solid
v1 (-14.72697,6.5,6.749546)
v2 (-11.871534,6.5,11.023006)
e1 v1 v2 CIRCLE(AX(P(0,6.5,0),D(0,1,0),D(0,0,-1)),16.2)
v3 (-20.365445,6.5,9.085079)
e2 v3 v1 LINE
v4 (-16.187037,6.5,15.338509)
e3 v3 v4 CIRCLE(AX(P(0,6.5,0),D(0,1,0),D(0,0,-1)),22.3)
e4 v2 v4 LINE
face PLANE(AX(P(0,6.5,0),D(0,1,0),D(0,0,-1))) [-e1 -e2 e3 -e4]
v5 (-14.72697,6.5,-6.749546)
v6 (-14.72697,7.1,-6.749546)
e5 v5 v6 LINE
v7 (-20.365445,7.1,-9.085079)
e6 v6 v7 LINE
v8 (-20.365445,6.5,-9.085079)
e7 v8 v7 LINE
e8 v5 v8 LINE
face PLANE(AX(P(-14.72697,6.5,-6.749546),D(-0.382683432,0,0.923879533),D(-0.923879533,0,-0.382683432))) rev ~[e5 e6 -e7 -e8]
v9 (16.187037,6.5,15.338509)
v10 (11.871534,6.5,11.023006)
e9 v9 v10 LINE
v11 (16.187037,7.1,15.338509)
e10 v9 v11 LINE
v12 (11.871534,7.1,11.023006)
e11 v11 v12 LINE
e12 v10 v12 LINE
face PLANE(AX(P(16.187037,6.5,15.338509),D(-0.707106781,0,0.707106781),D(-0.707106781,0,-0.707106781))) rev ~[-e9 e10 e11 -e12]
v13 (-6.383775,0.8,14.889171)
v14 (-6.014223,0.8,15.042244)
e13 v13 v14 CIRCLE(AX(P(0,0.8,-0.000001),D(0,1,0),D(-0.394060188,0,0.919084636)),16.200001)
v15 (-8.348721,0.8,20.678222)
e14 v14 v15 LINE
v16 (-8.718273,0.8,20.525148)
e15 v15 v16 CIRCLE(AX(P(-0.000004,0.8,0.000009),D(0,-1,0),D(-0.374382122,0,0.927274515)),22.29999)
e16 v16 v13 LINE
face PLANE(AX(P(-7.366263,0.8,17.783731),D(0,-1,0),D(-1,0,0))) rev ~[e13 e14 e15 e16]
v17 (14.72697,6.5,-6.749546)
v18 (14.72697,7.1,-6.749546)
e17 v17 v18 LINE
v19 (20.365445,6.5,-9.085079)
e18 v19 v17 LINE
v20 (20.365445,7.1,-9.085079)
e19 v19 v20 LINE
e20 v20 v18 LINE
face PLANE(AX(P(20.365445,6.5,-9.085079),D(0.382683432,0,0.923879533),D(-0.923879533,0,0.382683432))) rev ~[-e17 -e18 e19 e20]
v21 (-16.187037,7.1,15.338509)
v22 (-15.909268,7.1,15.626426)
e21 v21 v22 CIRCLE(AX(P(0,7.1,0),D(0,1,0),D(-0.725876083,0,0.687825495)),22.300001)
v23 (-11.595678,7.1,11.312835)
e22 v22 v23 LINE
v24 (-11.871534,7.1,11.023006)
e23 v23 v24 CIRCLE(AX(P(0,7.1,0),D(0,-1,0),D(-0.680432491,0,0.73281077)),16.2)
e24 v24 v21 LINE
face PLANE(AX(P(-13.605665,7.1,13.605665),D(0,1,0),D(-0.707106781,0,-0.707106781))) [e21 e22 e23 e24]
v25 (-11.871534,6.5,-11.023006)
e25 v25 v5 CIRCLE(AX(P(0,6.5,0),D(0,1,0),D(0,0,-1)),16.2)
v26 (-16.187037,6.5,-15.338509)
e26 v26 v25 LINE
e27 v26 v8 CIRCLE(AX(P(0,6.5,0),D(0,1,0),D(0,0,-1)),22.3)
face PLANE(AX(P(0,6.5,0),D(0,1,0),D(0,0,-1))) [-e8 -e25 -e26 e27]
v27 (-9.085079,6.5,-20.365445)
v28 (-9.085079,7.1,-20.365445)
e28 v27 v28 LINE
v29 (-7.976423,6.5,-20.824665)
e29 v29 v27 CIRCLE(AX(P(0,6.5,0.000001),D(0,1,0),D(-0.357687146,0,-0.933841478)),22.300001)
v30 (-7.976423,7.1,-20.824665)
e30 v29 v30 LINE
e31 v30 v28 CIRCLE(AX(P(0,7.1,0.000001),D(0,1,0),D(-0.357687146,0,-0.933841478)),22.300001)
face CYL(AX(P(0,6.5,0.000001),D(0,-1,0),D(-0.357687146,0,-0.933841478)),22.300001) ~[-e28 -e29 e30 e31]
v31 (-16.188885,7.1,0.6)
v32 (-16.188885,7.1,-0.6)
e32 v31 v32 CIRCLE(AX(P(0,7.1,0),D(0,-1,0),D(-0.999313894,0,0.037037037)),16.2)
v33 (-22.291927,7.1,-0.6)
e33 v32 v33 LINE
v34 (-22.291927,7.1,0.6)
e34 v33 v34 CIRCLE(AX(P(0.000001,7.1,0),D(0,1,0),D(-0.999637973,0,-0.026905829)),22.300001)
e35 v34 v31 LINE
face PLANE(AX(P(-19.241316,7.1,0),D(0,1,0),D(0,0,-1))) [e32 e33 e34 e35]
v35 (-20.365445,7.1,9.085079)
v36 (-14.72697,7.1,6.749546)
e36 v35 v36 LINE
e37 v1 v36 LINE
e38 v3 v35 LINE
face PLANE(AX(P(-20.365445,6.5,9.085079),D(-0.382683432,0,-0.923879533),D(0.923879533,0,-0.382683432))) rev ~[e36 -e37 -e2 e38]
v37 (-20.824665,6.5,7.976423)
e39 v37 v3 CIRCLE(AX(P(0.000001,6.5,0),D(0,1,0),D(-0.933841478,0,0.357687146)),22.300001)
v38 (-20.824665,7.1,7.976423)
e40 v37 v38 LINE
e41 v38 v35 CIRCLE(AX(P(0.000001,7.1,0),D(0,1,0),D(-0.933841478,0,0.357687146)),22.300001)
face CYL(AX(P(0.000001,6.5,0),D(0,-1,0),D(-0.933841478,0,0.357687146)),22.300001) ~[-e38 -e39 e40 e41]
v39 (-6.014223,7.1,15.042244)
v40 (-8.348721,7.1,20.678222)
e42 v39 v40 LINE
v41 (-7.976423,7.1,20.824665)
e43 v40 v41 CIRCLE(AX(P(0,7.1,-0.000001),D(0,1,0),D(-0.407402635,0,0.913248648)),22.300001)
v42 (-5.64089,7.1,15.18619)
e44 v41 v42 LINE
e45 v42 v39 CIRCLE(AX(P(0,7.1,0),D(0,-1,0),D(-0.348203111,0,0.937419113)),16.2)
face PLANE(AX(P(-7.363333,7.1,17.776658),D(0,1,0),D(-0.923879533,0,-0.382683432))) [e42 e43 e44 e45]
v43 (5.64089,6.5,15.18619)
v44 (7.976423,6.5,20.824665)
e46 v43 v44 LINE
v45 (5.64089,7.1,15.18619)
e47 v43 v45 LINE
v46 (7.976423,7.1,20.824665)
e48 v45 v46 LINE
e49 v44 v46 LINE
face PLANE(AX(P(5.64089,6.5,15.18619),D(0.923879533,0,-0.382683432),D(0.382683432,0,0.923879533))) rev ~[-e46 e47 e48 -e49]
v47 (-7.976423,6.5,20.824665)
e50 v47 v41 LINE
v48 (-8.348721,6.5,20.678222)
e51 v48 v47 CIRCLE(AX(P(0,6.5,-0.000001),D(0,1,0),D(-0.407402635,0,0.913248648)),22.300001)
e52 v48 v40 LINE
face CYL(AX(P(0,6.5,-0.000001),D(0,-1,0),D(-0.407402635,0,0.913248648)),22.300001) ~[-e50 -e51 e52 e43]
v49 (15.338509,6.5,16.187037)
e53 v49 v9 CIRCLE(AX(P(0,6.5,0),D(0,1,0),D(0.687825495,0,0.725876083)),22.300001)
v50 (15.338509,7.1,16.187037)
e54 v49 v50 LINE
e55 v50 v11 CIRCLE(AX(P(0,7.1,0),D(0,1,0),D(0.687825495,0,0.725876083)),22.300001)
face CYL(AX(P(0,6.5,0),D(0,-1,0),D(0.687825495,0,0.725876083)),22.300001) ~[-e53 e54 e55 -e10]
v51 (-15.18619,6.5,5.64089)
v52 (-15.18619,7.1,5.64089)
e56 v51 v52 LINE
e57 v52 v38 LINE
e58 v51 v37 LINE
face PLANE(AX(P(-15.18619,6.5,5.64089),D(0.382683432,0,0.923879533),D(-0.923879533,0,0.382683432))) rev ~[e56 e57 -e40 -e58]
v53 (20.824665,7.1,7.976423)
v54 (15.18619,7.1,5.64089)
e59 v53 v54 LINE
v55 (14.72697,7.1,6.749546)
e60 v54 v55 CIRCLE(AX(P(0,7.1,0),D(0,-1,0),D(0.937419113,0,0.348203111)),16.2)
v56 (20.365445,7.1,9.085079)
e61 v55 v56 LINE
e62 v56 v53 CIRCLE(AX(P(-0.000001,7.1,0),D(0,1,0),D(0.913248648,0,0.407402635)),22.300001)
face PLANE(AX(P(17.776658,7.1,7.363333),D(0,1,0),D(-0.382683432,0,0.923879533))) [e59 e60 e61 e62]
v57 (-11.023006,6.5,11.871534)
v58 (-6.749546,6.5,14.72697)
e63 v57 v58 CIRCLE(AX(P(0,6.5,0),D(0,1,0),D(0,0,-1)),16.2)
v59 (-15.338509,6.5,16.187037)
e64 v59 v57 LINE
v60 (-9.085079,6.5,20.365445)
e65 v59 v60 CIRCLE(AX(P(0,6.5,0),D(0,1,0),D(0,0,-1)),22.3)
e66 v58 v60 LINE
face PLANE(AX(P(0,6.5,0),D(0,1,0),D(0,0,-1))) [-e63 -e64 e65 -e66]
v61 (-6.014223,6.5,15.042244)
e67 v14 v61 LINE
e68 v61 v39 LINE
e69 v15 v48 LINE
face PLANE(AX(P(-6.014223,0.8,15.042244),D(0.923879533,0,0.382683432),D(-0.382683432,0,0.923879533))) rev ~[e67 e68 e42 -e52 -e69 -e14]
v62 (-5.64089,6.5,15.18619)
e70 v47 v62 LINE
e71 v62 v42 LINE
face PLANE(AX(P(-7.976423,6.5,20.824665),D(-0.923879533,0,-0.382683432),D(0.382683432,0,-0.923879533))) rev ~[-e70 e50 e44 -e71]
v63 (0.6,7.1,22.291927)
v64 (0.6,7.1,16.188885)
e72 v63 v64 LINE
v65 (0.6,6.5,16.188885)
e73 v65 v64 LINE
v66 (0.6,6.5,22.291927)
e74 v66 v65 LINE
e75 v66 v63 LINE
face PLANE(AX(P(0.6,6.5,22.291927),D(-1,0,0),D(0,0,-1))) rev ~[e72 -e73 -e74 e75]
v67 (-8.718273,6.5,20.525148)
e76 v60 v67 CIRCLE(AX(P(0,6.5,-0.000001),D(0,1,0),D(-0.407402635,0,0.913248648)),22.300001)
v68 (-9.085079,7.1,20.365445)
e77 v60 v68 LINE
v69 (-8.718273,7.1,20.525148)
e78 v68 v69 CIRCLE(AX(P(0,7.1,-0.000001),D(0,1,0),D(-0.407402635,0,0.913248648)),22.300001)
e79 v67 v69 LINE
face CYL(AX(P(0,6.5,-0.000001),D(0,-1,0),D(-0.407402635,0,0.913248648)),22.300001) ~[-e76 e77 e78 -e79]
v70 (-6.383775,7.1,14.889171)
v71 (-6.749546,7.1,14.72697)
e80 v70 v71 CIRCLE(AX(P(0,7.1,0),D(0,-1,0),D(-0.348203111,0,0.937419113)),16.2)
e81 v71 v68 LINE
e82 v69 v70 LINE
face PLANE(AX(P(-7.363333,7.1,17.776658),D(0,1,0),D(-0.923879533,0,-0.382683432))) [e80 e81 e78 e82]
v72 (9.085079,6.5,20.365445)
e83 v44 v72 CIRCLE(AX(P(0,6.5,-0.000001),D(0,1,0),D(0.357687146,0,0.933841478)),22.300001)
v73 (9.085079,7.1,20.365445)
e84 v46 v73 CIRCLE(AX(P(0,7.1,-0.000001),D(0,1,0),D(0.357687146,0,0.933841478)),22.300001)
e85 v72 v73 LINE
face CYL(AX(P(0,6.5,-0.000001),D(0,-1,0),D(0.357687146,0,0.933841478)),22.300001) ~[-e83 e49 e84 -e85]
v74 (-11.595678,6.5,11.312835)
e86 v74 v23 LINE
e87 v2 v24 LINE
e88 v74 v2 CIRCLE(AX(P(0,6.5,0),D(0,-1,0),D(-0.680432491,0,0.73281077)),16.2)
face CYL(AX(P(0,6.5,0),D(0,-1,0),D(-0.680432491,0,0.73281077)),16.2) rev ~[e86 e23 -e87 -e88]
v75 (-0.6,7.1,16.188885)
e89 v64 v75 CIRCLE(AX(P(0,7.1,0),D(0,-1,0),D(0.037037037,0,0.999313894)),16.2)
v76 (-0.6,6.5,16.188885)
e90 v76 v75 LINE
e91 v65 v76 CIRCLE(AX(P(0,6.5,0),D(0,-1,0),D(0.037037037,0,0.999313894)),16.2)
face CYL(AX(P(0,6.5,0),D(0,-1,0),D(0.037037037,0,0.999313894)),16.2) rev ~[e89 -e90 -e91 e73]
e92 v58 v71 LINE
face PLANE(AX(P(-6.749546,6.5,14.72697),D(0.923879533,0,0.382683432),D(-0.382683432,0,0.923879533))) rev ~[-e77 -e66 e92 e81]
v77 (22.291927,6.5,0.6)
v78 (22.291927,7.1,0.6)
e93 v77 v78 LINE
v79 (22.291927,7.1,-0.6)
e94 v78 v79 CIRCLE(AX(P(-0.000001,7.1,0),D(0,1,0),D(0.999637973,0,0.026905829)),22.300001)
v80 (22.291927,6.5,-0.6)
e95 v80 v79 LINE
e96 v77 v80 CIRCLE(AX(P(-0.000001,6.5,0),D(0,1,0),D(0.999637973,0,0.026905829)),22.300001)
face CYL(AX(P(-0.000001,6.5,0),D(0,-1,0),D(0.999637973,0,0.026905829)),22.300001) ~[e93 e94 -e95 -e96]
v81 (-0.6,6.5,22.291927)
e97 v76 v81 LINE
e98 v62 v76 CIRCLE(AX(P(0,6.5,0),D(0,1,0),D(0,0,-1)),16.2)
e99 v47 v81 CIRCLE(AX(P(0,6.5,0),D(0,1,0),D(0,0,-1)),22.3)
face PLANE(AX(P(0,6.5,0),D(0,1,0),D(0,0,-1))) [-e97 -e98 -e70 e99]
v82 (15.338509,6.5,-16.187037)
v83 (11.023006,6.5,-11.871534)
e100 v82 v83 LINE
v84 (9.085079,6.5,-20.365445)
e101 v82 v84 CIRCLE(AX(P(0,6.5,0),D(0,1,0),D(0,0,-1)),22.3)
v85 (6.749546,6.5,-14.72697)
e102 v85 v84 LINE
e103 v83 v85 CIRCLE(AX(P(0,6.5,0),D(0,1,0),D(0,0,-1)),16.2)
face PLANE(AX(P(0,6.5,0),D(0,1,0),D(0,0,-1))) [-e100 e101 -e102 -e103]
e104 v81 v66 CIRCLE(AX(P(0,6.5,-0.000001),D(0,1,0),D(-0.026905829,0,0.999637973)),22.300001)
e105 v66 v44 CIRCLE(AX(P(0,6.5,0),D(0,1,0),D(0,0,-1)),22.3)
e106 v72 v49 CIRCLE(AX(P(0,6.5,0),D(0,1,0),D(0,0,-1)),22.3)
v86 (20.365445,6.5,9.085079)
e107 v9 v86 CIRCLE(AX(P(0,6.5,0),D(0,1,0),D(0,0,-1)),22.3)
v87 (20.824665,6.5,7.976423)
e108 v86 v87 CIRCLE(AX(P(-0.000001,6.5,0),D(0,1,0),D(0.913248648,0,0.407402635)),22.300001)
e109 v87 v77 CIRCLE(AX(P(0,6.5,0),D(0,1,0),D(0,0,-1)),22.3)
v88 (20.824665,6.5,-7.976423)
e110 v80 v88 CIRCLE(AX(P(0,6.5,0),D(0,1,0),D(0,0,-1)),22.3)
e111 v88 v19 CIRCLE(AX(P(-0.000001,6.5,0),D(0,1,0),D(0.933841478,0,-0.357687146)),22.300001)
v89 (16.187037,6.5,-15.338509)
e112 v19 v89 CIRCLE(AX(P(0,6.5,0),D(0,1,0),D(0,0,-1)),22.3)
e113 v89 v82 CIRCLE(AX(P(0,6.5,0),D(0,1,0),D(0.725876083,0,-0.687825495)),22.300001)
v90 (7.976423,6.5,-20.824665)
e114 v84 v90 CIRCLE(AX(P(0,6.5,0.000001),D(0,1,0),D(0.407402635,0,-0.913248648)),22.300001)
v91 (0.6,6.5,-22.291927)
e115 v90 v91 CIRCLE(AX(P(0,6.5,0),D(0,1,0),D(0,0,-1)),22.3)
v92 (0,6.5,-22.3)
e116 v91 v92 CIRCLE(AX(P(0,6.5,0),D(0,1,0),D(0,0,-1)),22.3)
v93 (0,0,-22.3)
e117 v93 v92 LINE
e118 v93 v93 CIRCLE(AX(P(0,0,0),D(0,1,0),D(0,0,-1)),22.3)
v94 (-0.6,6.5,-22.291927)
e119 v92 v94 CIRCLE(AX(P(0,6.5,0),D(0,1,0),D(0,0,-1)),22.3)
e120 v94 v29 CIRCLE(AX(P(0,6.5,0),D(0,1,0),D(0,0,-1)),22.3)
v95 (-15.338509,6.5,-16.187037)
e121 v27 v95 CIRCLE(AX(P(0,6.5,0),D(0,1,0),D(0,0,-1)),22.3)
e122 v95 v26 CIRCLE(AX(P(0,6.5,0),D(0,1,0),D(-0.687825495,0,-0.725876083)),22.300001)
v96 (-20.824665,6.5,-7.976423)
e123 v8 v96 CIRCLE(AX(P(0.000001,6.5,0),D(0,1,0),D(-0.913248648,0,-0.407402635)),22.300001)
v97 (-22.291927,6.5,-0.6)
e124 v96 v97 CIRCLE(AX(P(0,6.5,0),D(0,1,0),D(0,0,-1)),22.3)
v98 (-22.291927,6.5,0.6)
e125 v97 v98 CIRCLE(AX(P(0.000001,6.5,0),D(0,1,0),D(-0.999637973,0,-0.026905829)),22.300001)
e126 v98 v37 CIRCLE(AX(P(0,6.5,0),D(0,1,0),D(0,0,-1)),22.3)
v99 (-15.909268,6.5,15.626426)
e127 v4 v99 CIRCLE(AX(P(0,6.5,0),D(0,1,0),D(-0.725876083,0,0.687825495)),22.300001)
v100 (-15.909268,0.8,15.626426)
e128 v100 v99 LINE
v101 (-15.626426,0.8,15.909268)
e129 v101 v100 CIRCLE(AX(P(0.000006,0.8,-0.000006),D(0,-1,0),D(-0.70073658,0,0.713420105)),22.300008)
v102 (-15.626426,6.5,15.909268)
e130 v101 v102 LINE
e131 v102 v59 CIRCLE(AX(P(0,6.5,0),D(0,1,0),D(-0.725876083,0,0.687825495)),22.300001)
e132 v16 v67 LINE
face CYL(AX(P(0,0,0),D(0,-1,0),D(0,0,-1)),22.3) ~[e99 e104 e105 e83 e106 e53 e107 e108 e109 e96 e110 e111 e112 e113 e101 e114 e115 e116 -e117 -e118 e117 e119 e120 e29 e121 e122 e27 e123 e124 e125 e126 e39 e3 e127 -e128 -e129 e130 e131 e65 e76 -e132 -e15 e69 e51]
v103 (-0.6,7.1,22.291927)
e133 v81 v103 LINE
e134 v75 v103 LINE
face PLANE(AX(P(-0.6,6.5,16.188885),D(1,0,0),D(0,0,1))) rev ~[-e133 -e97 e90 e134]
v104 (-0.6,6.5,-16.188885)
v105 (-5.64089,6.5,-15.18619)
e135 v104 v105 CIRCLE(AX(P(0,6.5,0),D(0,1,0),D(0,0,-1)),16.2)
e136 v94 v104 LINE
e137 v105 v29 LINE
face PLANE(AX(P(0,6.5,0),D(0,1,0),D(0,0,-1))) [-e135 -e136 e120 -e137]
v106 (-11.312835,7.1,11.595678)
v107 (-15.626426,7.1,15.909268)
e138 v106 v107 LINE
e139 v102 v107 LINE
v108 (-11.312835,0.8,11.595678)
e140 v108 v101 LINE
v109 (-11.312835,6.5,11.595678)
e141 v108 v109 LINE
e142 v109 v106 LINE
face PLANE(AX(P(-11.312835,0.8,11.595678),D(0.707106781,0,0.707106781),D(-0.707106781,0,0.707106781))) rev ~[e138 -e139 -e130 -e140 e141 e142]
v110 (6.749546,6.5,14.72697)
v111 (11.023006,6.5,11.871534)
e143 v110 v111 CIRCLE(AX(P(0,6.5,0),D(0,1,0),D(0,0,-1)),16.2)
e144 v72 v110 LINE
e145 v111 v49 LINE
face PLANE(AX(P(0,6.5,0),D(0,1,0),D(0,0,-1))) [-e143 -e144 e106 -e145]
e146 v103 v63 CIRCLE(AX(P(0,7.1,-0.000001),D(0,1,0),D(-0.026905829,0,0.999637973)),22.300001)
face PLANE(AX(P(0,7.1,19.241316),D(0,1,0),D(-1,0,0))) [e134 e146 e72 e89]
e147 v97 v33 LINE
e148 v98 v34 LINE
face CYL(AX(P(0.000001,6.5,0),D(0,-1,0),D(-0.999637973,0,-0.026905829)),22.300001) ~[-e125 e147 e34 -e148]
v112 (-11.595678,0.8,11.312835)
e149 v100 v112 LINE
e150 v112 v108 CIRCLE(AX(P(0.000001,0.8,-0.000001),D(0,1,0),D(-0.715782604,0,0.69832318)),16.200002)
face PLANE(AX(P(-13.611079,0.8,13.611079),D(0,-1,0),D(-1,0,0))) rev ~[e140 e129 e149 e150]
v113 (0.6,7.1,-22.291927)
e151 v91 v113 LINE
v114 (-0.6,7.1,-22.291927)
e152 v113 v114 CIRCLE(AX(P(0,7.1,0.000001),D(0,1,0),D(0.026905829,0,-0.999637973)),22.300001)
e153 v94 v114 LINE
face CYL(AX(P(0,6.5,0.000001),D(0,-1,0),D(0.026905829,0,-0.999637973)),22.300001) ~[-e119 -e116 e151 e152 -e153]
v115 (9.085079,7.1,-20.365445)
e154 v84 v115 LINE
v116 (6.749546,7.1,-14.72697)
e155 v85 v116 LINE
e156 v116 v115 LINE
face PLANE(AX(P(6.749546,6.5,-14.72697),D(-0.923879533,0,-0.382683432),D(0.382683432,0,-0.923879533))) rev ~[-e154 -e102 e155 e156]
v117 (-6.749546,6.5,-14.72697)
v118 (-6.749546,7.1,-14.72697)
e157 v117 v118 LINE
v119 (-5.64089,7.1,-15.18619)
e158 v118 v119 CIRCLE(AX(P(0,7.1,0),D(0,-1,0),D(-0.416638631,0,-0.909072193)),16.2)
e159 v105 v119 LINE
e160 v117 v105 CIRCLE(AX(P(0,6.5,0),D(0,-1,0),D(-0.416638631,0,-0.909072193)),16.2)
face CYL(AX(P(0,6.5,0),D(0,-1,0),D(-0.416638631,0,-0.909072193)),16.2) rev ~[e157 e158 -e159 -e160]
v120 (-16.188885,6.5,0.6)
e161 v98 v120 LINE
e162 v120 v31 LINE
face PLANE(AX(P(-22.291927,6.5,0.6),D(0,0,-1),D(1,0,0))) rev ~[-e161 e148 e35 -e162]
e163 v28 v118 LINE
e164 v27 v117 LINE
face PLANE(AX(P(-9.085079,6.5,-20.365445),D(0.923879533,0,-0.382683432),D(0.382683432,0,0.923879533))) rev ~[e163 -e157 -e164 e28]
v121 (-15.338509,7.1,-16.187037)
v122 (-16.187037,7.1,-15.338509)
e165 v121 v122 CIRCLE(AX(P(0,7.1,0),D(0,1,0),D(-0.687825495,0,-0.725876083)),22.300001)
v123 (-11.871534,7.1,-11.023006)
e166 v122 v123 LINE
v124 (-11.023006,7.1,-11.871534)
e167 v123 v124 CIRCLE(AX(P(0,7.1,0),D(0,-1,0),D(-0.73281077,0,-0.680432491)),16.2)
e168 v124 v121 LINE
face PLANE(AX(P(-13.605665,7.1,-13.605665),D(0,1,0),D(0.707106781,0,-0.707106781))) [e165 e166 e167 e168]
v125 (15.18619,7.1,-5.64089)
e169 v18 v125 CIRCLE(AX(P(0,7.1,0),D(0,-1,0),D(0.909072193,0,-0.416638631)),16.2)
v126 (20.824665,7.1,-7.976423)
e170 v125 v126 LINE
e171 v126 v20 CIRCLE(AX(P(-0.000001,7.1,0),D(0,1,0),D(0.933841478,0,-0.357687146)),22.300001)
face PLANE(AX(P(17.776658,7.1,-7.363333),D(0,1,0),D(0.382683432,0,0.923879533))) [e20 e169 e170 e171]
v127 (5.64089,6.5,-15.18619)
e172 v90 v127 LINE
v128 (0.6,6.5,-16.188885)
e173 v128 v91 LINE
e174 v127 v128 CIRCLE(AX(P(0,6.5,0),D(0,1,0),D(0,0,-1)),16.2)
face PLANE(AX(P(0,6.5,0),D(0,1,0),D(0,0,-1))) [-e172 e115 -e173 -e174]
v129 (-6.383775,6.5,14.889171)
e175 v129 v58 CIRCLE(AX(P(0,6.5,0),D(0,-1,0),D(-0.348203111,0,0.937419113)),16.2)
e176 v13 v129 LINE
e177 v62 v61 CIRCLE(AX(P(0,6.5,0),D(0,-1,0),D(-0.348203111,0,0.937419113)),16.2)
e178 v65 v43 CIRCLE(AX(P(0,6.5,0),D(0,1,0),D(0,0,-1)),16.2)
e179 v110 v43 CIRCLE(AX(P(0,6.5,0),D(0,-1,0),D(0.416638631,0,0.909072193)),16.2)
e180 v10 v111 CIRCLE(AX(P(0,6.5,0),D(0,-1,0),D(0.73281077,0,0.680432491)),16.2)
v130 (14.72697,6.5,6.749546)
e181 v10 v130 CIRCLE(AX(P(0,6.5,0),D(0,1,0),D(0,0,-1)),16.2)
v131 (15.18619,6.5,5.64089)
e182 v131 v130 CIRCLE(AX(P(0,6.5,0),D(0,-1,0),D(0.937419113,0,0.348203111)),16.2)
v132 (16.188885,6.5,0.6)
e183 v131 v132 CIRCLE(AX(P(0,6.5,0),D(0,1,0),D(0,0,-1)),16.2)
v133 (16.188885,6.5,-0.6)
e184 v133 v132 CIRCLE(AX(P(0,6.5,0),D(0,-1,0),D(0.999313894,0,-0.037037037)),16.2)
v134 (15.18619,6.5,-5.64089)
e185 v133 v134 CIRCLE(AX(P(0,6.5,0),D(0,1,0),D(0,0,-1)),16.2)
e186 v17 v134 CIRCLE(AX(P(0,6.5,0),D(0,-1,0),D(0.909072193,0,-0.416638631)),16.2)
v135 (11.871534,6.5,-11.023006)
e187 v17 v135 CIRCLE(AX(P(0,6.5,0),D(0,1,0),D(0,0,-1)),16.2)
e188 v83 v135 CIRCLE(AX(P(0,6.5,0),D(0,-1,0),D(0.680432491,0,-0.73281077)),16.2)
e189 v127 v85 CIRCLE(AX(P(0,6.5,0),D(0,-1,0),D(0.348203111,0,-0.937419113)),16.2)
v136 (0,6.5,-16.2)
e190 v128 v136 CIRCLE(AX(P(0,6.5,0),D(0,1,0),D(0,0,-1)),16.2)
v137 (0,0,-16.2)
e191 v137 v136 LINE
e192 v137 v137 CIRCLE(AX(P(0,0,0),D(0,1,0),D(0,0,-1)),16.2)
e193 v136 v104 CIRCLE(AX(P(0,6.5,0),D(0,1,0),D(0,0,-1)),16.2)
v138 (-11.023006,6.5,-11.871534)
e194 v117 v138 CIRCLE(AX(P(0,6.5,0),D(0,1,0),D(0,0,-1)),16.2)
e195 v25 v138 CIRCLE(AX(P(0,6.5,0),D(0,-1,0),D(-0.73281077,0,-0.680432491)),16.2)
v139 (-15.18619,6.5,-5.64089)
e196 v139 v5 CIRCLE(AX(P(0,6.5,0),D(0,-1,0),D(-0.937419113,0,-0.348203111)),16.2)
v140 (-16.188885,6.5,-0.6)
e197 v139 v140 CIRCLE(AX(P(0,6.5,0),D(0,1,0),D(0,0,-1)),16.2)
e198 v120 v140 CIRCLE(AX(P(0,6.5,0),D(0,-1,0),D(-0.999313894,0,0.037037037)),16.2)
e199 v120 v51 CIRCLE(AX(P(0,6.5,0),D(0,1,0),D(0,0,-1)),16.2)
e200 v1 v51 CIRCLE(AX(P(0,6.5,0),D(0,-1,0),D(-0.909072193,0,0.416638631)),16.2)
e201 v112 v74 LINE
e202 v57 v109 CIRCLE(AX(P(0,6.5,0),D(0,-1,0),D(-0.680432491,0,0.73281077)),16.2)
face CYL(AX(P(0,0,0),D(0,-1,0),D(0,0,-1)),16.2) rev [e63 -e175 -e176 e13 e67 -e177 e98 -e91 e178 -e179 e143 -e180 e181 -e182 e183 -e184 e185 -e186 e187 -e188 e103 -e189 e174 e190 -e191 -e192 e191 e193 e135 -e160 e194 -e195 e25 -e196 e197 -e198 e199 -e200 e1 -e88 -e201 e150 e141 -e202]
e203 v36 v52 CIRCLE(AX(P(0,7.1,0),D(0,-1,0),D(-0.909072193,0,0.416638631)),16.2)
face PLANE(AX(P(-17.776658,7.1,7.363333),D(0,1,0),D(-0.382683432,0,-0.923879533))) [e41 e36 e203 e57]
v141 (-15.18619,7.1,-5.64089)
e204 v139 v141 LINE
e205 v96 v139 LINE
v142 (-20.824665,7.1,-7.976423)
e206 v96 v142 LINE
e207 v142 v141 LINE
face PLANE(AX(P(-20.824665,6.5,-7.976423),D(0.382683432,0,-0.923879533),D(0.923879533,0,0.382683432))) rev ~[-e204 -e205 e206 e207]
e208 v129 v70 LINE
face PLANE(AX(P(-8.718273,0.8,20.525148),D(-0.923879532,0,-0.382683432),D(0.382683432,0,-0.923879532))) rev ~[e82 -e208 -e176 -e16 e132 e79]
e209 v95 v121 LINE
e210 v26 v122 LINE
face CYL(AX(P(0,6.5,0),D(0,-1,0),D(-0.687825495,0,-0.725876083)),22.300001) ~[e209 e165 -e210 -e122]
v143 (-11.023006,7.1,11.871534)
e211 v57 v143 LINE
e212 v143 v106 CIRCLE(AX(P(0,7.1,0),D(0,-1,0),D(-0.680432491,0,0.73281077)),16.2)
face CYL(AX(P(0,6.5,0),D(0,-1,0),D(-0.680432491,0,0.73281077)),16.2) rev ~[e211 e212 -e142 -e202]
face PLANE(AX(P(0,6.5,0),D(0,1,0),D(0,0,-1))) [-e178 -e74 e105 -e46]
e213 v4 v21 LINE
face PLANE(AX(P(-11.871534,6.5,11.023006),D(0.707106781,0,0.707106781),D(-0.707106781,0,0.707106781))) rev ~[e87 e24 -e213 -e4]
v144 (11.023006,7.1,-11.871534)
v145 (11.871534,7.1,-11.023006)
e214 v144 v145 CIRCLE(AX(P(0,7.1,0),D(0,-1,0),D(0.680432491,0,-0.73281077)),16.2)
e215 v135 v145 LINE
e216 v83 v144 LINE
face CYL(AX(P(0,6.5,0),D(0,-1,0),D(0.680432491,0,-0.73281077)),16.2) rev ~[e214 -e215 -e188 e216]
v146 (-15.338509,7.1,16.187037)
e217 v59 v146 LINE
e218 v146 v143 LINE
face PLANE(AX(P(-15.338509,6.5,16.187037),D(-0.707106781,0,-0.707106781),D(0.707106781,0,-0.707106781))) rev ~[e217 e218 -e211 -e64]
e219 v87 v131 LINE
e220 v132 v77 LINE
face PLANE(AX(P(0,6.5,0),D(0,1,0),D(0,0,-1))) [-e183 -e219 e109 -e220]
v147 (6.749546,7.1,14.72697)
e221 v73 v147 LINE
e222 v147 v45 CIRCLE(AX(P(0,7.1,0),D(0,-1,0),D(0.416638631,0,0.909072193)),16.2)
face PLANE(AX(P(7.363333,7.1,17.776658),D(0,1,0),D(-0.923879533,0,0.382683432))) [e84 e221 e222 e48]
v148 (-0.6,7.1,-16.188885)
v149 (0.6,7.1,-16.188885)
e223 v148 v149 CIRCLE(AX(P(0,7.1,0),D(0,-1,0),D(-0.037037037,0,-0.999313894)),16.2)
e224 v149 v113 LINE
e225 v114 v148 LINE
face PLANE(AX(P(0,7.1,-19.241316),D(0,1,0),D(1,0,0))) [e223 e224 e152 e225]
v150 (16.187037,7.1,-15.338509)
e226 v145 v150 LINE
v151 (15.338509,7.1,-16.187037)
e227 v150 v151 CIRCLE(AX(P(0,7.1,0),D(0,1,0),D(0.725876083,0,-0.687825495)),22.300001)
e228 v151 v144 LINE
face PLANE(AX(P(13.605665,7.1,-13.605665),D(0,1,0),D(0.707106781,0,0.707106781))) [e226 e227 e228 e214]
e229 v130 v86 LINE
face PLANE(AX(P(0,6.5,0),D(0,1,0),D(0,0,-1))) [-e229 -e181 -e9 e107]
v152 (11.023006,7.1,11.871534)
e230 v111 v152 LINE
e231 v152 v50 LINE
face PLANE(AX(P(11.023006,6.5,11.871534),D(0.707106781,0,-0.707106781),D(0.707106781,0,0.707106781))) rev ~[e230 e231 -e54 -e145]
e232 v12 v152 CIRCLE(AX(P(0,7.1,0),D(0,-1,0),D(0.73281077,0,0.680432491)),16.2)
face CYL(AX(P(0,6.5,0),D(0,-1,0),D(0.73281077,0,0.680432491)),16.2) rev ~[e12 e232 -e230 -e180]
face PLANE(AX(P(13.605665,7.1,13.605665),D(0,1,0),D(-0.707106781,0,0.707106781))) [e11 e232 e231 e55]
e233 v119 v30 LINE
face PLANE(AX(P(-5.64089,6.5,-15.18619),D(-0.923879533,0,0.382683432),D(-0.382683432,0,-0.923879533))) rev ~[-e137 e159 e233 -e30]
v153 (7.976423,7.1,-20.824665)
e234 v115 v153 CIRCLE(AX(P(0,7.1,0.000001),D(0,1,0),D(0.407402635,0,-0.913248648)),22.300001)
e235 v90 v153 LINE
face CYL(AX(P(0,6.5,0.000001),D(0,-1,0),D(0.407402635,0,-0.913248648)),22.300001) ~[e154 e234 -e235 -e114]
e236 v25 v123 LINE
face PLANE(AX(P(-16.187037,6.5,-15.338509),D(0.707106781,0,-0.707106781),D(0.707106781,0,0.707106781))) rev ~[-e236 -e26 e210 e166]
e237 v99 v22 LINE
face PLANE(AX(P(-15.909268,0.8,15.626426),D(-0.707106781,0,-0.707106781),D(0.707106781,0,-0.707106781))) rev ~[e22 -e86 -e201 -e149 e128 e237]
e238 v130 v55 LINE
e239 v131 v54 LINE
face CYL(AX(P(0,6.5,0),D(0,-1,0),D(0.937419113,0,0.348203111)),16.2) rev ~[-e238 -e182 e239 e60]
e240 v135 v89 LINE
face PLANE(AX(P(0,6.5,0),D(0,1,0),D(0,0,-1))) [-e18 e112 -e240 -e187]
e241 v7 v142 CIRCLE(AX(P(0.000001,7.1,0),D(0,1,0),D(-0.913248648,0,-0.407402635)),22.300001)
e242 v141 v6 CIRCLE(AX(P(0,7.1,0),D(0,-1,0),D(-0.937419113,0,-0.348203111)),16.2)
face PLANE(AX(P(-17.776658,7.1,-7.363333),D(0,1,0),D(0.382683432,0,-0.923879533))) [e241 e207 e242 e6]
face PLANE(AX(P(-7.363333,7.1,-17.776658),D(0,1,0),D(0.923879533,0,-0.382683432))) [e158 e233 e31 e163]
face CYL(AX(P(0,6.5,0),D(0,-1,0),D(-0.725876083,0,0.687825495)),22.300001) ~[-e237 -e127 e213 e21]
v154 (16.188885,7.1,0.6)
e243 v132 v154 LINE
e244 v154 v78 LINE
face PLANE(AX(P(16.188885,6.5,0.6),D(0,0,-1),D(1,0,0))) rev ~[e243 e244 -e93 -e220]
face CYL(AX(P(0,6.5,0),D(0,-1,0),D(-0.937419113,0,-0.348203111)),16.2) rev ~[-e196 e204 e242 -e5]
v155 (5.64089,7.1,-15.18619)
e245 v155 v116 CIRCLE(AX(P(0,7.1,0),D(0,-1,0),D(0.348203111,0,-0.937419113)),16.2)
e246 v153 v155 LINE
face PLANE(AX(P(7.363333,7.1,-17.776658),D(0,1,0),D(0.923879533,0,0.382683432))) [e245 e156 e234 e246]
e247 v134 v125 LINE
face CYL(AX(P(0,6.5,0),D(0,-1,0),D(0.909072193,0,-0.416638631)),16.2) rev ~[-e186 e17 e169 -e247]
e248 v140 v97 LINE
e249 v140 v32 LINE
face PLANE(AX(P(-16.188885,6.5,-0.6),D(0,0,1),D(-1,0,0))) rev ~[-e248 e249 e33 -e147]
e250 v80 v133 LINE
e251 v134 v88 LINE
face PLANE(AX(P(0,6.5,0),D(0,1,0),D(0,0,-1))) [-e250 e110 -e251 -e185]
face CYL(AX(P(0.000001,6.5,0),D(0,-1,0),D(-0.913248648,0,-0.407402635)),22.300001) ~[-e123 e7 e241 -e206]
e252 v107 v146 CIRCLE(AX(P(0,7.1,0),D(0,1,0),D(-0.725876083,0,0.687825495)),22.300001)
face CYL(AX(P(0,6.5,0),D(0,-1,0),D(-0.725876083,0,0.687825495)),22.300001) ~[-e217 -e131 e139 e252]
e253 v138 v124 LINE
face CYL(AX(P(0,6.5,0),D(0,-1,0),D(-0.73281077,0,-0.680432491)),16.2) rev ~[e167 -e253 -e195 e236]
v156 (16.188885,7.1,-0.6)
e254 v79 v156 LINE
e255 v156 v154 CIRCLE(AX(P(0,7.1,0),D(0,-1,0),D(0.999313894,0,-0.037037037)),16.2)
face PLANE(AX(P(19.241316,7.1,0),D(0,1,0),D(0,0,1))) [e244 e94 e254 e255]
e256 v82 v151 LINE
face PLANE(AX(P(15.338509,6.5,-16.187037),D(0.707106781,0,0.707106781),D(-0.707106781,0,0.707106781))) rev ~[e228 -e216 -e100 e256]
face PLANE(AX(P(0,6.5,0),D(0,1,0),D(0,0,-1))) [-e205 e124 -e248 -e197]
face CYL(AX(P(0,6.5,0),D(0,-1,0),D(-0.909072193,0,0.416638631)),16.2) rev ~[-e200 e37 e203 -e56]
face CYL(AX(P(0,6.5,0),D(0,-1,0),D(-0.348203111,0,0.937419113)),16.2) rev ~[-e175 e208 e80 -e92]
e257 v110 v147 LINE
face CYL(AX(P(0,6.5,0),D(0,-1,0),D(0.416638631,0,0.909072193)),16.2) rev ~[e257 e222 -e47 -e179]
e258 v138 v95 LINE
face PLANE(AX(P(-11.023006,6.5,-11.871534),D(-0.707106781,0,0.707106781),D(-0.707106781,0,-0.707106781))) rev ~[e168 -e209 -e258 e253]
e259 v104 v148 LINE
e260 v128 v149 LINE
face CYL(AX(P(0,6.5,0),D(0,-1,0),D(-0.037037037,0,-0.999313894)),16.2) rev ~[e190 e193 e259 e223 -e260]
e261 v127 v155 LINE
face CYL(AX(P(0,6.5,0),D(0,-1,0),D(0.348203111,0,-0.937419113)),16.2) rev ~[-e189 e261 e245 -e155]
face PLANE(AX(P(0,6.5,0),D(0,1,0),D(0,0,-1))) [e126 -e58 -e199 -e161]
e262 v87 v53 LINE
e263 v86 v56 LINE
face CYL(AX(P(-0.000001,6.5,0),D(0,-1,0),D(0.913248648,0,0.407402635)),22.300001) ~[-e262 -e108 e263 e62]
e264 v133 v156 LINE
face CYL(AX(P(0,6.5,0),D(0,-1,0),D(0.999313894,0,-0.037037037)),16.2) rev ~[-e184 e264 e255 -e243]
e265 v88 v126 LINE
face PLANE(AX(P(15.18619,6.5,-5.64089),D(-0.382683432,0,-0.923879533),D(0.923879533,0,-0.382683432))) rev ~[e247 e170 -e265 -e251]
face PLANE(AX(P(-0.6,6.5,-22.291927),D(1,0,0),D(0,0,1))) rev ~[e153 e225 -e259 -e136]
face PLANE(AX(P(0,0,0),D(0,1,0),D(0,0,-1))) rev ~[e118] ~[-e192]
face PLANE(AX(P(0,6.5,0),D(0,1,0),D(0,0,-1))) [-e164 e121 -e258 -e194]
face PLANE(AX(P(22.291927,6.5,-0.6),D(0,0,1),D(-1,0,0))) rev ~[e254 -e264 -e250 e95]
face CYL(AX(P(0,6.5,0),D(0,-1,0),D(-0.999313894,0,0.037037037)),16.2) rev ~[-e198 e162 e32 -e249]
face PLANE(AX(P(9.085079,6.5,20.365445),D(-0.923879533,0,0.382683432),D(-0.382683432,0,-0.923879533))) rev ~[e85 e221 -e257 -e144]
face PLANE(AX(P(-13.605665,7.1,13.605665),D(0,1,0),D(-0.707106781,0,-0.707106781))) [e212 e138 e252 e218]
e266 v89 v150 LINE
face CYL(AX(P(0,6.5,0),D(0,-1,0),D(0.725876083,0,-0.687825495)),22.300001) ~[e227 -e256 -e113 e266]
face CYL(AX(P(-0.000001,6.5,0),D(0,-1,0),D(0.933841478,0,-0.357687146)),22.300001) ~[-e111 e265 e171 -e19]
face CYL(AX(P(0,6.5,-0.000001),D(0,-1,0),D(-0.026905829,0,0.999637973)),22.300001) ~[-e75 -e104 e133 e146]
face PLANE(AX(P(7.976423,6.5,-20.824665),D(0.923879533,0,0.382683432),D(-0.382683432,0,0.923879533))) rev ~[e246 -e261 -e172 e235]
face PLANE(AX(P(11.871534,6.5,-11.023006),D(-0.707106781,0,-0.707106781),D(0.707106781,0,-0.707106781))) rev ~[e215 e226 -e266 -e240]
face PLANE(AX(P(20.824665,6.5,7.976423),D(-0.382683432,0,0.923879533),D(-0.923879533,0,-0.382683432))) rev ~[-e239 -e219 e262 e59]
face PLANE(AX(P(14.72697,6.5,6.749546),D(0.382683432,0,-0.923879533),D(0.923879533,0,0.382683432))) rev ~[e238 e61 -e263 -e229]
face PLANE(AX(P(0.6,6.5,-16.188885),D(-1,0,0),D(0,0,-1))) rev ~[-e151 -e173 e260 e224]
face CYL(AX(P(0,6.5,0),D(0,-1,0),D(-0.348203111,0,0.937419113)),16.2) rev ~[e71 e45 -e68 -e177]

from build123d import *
from build123d.topology import SkipClean

# Parameters (mm, degrees)
SKETCH1_R           = 22.3
SKETCH1_R_2         = 16.2
BOSS_EXTRUDE1_DEPTH = 6.5
BOSS_EXTRUDE2_DEPTH = 0.6
CIRPATTERN1_COUNT   = 16
CUT_EXTRUDE1_START  = -6.3
CUT_EXTRUDE1_DEPTH  = 6.3


with BuildPart() as part:
    # Sketch1 → Boss-Extrude1 (new body)
    with BuildSketch(Plane(origin=(0, 0, 0), x_dir=(1, 0, 0), z_dir=(0, 1, 0))):
        with Locations(Location((0, 0, 0), (0, 0, 90))):
            Circle(SKETCH1_R)
        with Locations(Location((0, 0, 0), (0, 0, 90))):
            Circle(SKETCH1_R_2, mode=Mode.SUBTRACT)
    extrude(amount=BOSS_EXTRUDE1_DEPTH)

    # Sketch2 → Boss-Extrude2 (add)
    with BuildSketch(Plane(origin=(0, 6.5, 0), x_dir=(1, 0, 0), z_dir=(0, 1, 0))):
        with BuildLine():
            ThreePointArc((0.6, 22.29192679), (0, 22.3), (-0.6, 22.29192679))
            Line((-0.6, 22.29192679), (-0.6, 16.188885076))
            ThreePointArc((-0.6, 16.188885076), (0, 16.2), (0.6, 16.188885076))
            Line((0.6, 16.188885076), (0.6, 22.29192679))
        make_face()
    boss_extrude2 = extrude(amount=BOSS_EXTRUDE2_DEPTH)

    # CirPattern1: Boss-Extrude2 ×16 about axis
    with SkipClean():  # the faces are left unmerged after this step: merging them gives an invalid solid
        cirpattern1_axis = Axis((0, 0, 0), (0, 1, 0))
        for i in range(1, CIRPATTERN1_COUNT):
            add(boss_extrude2.rotate(cirpattern1_axis, i * 360 / CIRPATTERN1_COUNT))

    # Sketch3 → Cut-Extrude1 (cut)
    with SkipClean():  # the faces are left unmerged after this step: merging them gives an invalid solid
        with BuildSketch(Plane(origin=(0, 7.1, 0), x_dir=(1, 0, 0), z_dir=(0, 1, 0)).offset(CUT_EXTRUDE1_START)):
            with BuildLine():
                Line((-15.909268387, -15.626425675), (-11.595678207, -11.312835494))
                ThreePointArc((-11.595678207, -11.312835494), (-11.455129855, -11.455129855), (-11.312835494, -11.595678207))
                Line((-11.312835494, -11.595678207), (-15.626425675, -15.909268387))
                ThreePointArc((-15.626425675, -15.909268387), (-15.76848122, -15.76848122), (-15.909268387, -15.626425675))
            make_face()
            with BuildLine():
                Line((-6.014223231, -15.042244478), (-8.348721414, -20.678221653))
                ThreePointArc((-8.348721414, -20.678221653), (-8.533840542, -20.602513575), (-8.718273228, -20.52514828))
                Line((-8.718273228, -20.52514828), (-6.383775044, -14.889171105))
                ThreePointArc((-6.383775044, -14.889171105), (-6.199471604, -14.966848427), (-6.014223231, -15.042244478))
            make_face()
        extrude(amount=CUT_EXTRUDE1_DEPTH, mode=Mode.SUBTRACT)


solid = part.part
